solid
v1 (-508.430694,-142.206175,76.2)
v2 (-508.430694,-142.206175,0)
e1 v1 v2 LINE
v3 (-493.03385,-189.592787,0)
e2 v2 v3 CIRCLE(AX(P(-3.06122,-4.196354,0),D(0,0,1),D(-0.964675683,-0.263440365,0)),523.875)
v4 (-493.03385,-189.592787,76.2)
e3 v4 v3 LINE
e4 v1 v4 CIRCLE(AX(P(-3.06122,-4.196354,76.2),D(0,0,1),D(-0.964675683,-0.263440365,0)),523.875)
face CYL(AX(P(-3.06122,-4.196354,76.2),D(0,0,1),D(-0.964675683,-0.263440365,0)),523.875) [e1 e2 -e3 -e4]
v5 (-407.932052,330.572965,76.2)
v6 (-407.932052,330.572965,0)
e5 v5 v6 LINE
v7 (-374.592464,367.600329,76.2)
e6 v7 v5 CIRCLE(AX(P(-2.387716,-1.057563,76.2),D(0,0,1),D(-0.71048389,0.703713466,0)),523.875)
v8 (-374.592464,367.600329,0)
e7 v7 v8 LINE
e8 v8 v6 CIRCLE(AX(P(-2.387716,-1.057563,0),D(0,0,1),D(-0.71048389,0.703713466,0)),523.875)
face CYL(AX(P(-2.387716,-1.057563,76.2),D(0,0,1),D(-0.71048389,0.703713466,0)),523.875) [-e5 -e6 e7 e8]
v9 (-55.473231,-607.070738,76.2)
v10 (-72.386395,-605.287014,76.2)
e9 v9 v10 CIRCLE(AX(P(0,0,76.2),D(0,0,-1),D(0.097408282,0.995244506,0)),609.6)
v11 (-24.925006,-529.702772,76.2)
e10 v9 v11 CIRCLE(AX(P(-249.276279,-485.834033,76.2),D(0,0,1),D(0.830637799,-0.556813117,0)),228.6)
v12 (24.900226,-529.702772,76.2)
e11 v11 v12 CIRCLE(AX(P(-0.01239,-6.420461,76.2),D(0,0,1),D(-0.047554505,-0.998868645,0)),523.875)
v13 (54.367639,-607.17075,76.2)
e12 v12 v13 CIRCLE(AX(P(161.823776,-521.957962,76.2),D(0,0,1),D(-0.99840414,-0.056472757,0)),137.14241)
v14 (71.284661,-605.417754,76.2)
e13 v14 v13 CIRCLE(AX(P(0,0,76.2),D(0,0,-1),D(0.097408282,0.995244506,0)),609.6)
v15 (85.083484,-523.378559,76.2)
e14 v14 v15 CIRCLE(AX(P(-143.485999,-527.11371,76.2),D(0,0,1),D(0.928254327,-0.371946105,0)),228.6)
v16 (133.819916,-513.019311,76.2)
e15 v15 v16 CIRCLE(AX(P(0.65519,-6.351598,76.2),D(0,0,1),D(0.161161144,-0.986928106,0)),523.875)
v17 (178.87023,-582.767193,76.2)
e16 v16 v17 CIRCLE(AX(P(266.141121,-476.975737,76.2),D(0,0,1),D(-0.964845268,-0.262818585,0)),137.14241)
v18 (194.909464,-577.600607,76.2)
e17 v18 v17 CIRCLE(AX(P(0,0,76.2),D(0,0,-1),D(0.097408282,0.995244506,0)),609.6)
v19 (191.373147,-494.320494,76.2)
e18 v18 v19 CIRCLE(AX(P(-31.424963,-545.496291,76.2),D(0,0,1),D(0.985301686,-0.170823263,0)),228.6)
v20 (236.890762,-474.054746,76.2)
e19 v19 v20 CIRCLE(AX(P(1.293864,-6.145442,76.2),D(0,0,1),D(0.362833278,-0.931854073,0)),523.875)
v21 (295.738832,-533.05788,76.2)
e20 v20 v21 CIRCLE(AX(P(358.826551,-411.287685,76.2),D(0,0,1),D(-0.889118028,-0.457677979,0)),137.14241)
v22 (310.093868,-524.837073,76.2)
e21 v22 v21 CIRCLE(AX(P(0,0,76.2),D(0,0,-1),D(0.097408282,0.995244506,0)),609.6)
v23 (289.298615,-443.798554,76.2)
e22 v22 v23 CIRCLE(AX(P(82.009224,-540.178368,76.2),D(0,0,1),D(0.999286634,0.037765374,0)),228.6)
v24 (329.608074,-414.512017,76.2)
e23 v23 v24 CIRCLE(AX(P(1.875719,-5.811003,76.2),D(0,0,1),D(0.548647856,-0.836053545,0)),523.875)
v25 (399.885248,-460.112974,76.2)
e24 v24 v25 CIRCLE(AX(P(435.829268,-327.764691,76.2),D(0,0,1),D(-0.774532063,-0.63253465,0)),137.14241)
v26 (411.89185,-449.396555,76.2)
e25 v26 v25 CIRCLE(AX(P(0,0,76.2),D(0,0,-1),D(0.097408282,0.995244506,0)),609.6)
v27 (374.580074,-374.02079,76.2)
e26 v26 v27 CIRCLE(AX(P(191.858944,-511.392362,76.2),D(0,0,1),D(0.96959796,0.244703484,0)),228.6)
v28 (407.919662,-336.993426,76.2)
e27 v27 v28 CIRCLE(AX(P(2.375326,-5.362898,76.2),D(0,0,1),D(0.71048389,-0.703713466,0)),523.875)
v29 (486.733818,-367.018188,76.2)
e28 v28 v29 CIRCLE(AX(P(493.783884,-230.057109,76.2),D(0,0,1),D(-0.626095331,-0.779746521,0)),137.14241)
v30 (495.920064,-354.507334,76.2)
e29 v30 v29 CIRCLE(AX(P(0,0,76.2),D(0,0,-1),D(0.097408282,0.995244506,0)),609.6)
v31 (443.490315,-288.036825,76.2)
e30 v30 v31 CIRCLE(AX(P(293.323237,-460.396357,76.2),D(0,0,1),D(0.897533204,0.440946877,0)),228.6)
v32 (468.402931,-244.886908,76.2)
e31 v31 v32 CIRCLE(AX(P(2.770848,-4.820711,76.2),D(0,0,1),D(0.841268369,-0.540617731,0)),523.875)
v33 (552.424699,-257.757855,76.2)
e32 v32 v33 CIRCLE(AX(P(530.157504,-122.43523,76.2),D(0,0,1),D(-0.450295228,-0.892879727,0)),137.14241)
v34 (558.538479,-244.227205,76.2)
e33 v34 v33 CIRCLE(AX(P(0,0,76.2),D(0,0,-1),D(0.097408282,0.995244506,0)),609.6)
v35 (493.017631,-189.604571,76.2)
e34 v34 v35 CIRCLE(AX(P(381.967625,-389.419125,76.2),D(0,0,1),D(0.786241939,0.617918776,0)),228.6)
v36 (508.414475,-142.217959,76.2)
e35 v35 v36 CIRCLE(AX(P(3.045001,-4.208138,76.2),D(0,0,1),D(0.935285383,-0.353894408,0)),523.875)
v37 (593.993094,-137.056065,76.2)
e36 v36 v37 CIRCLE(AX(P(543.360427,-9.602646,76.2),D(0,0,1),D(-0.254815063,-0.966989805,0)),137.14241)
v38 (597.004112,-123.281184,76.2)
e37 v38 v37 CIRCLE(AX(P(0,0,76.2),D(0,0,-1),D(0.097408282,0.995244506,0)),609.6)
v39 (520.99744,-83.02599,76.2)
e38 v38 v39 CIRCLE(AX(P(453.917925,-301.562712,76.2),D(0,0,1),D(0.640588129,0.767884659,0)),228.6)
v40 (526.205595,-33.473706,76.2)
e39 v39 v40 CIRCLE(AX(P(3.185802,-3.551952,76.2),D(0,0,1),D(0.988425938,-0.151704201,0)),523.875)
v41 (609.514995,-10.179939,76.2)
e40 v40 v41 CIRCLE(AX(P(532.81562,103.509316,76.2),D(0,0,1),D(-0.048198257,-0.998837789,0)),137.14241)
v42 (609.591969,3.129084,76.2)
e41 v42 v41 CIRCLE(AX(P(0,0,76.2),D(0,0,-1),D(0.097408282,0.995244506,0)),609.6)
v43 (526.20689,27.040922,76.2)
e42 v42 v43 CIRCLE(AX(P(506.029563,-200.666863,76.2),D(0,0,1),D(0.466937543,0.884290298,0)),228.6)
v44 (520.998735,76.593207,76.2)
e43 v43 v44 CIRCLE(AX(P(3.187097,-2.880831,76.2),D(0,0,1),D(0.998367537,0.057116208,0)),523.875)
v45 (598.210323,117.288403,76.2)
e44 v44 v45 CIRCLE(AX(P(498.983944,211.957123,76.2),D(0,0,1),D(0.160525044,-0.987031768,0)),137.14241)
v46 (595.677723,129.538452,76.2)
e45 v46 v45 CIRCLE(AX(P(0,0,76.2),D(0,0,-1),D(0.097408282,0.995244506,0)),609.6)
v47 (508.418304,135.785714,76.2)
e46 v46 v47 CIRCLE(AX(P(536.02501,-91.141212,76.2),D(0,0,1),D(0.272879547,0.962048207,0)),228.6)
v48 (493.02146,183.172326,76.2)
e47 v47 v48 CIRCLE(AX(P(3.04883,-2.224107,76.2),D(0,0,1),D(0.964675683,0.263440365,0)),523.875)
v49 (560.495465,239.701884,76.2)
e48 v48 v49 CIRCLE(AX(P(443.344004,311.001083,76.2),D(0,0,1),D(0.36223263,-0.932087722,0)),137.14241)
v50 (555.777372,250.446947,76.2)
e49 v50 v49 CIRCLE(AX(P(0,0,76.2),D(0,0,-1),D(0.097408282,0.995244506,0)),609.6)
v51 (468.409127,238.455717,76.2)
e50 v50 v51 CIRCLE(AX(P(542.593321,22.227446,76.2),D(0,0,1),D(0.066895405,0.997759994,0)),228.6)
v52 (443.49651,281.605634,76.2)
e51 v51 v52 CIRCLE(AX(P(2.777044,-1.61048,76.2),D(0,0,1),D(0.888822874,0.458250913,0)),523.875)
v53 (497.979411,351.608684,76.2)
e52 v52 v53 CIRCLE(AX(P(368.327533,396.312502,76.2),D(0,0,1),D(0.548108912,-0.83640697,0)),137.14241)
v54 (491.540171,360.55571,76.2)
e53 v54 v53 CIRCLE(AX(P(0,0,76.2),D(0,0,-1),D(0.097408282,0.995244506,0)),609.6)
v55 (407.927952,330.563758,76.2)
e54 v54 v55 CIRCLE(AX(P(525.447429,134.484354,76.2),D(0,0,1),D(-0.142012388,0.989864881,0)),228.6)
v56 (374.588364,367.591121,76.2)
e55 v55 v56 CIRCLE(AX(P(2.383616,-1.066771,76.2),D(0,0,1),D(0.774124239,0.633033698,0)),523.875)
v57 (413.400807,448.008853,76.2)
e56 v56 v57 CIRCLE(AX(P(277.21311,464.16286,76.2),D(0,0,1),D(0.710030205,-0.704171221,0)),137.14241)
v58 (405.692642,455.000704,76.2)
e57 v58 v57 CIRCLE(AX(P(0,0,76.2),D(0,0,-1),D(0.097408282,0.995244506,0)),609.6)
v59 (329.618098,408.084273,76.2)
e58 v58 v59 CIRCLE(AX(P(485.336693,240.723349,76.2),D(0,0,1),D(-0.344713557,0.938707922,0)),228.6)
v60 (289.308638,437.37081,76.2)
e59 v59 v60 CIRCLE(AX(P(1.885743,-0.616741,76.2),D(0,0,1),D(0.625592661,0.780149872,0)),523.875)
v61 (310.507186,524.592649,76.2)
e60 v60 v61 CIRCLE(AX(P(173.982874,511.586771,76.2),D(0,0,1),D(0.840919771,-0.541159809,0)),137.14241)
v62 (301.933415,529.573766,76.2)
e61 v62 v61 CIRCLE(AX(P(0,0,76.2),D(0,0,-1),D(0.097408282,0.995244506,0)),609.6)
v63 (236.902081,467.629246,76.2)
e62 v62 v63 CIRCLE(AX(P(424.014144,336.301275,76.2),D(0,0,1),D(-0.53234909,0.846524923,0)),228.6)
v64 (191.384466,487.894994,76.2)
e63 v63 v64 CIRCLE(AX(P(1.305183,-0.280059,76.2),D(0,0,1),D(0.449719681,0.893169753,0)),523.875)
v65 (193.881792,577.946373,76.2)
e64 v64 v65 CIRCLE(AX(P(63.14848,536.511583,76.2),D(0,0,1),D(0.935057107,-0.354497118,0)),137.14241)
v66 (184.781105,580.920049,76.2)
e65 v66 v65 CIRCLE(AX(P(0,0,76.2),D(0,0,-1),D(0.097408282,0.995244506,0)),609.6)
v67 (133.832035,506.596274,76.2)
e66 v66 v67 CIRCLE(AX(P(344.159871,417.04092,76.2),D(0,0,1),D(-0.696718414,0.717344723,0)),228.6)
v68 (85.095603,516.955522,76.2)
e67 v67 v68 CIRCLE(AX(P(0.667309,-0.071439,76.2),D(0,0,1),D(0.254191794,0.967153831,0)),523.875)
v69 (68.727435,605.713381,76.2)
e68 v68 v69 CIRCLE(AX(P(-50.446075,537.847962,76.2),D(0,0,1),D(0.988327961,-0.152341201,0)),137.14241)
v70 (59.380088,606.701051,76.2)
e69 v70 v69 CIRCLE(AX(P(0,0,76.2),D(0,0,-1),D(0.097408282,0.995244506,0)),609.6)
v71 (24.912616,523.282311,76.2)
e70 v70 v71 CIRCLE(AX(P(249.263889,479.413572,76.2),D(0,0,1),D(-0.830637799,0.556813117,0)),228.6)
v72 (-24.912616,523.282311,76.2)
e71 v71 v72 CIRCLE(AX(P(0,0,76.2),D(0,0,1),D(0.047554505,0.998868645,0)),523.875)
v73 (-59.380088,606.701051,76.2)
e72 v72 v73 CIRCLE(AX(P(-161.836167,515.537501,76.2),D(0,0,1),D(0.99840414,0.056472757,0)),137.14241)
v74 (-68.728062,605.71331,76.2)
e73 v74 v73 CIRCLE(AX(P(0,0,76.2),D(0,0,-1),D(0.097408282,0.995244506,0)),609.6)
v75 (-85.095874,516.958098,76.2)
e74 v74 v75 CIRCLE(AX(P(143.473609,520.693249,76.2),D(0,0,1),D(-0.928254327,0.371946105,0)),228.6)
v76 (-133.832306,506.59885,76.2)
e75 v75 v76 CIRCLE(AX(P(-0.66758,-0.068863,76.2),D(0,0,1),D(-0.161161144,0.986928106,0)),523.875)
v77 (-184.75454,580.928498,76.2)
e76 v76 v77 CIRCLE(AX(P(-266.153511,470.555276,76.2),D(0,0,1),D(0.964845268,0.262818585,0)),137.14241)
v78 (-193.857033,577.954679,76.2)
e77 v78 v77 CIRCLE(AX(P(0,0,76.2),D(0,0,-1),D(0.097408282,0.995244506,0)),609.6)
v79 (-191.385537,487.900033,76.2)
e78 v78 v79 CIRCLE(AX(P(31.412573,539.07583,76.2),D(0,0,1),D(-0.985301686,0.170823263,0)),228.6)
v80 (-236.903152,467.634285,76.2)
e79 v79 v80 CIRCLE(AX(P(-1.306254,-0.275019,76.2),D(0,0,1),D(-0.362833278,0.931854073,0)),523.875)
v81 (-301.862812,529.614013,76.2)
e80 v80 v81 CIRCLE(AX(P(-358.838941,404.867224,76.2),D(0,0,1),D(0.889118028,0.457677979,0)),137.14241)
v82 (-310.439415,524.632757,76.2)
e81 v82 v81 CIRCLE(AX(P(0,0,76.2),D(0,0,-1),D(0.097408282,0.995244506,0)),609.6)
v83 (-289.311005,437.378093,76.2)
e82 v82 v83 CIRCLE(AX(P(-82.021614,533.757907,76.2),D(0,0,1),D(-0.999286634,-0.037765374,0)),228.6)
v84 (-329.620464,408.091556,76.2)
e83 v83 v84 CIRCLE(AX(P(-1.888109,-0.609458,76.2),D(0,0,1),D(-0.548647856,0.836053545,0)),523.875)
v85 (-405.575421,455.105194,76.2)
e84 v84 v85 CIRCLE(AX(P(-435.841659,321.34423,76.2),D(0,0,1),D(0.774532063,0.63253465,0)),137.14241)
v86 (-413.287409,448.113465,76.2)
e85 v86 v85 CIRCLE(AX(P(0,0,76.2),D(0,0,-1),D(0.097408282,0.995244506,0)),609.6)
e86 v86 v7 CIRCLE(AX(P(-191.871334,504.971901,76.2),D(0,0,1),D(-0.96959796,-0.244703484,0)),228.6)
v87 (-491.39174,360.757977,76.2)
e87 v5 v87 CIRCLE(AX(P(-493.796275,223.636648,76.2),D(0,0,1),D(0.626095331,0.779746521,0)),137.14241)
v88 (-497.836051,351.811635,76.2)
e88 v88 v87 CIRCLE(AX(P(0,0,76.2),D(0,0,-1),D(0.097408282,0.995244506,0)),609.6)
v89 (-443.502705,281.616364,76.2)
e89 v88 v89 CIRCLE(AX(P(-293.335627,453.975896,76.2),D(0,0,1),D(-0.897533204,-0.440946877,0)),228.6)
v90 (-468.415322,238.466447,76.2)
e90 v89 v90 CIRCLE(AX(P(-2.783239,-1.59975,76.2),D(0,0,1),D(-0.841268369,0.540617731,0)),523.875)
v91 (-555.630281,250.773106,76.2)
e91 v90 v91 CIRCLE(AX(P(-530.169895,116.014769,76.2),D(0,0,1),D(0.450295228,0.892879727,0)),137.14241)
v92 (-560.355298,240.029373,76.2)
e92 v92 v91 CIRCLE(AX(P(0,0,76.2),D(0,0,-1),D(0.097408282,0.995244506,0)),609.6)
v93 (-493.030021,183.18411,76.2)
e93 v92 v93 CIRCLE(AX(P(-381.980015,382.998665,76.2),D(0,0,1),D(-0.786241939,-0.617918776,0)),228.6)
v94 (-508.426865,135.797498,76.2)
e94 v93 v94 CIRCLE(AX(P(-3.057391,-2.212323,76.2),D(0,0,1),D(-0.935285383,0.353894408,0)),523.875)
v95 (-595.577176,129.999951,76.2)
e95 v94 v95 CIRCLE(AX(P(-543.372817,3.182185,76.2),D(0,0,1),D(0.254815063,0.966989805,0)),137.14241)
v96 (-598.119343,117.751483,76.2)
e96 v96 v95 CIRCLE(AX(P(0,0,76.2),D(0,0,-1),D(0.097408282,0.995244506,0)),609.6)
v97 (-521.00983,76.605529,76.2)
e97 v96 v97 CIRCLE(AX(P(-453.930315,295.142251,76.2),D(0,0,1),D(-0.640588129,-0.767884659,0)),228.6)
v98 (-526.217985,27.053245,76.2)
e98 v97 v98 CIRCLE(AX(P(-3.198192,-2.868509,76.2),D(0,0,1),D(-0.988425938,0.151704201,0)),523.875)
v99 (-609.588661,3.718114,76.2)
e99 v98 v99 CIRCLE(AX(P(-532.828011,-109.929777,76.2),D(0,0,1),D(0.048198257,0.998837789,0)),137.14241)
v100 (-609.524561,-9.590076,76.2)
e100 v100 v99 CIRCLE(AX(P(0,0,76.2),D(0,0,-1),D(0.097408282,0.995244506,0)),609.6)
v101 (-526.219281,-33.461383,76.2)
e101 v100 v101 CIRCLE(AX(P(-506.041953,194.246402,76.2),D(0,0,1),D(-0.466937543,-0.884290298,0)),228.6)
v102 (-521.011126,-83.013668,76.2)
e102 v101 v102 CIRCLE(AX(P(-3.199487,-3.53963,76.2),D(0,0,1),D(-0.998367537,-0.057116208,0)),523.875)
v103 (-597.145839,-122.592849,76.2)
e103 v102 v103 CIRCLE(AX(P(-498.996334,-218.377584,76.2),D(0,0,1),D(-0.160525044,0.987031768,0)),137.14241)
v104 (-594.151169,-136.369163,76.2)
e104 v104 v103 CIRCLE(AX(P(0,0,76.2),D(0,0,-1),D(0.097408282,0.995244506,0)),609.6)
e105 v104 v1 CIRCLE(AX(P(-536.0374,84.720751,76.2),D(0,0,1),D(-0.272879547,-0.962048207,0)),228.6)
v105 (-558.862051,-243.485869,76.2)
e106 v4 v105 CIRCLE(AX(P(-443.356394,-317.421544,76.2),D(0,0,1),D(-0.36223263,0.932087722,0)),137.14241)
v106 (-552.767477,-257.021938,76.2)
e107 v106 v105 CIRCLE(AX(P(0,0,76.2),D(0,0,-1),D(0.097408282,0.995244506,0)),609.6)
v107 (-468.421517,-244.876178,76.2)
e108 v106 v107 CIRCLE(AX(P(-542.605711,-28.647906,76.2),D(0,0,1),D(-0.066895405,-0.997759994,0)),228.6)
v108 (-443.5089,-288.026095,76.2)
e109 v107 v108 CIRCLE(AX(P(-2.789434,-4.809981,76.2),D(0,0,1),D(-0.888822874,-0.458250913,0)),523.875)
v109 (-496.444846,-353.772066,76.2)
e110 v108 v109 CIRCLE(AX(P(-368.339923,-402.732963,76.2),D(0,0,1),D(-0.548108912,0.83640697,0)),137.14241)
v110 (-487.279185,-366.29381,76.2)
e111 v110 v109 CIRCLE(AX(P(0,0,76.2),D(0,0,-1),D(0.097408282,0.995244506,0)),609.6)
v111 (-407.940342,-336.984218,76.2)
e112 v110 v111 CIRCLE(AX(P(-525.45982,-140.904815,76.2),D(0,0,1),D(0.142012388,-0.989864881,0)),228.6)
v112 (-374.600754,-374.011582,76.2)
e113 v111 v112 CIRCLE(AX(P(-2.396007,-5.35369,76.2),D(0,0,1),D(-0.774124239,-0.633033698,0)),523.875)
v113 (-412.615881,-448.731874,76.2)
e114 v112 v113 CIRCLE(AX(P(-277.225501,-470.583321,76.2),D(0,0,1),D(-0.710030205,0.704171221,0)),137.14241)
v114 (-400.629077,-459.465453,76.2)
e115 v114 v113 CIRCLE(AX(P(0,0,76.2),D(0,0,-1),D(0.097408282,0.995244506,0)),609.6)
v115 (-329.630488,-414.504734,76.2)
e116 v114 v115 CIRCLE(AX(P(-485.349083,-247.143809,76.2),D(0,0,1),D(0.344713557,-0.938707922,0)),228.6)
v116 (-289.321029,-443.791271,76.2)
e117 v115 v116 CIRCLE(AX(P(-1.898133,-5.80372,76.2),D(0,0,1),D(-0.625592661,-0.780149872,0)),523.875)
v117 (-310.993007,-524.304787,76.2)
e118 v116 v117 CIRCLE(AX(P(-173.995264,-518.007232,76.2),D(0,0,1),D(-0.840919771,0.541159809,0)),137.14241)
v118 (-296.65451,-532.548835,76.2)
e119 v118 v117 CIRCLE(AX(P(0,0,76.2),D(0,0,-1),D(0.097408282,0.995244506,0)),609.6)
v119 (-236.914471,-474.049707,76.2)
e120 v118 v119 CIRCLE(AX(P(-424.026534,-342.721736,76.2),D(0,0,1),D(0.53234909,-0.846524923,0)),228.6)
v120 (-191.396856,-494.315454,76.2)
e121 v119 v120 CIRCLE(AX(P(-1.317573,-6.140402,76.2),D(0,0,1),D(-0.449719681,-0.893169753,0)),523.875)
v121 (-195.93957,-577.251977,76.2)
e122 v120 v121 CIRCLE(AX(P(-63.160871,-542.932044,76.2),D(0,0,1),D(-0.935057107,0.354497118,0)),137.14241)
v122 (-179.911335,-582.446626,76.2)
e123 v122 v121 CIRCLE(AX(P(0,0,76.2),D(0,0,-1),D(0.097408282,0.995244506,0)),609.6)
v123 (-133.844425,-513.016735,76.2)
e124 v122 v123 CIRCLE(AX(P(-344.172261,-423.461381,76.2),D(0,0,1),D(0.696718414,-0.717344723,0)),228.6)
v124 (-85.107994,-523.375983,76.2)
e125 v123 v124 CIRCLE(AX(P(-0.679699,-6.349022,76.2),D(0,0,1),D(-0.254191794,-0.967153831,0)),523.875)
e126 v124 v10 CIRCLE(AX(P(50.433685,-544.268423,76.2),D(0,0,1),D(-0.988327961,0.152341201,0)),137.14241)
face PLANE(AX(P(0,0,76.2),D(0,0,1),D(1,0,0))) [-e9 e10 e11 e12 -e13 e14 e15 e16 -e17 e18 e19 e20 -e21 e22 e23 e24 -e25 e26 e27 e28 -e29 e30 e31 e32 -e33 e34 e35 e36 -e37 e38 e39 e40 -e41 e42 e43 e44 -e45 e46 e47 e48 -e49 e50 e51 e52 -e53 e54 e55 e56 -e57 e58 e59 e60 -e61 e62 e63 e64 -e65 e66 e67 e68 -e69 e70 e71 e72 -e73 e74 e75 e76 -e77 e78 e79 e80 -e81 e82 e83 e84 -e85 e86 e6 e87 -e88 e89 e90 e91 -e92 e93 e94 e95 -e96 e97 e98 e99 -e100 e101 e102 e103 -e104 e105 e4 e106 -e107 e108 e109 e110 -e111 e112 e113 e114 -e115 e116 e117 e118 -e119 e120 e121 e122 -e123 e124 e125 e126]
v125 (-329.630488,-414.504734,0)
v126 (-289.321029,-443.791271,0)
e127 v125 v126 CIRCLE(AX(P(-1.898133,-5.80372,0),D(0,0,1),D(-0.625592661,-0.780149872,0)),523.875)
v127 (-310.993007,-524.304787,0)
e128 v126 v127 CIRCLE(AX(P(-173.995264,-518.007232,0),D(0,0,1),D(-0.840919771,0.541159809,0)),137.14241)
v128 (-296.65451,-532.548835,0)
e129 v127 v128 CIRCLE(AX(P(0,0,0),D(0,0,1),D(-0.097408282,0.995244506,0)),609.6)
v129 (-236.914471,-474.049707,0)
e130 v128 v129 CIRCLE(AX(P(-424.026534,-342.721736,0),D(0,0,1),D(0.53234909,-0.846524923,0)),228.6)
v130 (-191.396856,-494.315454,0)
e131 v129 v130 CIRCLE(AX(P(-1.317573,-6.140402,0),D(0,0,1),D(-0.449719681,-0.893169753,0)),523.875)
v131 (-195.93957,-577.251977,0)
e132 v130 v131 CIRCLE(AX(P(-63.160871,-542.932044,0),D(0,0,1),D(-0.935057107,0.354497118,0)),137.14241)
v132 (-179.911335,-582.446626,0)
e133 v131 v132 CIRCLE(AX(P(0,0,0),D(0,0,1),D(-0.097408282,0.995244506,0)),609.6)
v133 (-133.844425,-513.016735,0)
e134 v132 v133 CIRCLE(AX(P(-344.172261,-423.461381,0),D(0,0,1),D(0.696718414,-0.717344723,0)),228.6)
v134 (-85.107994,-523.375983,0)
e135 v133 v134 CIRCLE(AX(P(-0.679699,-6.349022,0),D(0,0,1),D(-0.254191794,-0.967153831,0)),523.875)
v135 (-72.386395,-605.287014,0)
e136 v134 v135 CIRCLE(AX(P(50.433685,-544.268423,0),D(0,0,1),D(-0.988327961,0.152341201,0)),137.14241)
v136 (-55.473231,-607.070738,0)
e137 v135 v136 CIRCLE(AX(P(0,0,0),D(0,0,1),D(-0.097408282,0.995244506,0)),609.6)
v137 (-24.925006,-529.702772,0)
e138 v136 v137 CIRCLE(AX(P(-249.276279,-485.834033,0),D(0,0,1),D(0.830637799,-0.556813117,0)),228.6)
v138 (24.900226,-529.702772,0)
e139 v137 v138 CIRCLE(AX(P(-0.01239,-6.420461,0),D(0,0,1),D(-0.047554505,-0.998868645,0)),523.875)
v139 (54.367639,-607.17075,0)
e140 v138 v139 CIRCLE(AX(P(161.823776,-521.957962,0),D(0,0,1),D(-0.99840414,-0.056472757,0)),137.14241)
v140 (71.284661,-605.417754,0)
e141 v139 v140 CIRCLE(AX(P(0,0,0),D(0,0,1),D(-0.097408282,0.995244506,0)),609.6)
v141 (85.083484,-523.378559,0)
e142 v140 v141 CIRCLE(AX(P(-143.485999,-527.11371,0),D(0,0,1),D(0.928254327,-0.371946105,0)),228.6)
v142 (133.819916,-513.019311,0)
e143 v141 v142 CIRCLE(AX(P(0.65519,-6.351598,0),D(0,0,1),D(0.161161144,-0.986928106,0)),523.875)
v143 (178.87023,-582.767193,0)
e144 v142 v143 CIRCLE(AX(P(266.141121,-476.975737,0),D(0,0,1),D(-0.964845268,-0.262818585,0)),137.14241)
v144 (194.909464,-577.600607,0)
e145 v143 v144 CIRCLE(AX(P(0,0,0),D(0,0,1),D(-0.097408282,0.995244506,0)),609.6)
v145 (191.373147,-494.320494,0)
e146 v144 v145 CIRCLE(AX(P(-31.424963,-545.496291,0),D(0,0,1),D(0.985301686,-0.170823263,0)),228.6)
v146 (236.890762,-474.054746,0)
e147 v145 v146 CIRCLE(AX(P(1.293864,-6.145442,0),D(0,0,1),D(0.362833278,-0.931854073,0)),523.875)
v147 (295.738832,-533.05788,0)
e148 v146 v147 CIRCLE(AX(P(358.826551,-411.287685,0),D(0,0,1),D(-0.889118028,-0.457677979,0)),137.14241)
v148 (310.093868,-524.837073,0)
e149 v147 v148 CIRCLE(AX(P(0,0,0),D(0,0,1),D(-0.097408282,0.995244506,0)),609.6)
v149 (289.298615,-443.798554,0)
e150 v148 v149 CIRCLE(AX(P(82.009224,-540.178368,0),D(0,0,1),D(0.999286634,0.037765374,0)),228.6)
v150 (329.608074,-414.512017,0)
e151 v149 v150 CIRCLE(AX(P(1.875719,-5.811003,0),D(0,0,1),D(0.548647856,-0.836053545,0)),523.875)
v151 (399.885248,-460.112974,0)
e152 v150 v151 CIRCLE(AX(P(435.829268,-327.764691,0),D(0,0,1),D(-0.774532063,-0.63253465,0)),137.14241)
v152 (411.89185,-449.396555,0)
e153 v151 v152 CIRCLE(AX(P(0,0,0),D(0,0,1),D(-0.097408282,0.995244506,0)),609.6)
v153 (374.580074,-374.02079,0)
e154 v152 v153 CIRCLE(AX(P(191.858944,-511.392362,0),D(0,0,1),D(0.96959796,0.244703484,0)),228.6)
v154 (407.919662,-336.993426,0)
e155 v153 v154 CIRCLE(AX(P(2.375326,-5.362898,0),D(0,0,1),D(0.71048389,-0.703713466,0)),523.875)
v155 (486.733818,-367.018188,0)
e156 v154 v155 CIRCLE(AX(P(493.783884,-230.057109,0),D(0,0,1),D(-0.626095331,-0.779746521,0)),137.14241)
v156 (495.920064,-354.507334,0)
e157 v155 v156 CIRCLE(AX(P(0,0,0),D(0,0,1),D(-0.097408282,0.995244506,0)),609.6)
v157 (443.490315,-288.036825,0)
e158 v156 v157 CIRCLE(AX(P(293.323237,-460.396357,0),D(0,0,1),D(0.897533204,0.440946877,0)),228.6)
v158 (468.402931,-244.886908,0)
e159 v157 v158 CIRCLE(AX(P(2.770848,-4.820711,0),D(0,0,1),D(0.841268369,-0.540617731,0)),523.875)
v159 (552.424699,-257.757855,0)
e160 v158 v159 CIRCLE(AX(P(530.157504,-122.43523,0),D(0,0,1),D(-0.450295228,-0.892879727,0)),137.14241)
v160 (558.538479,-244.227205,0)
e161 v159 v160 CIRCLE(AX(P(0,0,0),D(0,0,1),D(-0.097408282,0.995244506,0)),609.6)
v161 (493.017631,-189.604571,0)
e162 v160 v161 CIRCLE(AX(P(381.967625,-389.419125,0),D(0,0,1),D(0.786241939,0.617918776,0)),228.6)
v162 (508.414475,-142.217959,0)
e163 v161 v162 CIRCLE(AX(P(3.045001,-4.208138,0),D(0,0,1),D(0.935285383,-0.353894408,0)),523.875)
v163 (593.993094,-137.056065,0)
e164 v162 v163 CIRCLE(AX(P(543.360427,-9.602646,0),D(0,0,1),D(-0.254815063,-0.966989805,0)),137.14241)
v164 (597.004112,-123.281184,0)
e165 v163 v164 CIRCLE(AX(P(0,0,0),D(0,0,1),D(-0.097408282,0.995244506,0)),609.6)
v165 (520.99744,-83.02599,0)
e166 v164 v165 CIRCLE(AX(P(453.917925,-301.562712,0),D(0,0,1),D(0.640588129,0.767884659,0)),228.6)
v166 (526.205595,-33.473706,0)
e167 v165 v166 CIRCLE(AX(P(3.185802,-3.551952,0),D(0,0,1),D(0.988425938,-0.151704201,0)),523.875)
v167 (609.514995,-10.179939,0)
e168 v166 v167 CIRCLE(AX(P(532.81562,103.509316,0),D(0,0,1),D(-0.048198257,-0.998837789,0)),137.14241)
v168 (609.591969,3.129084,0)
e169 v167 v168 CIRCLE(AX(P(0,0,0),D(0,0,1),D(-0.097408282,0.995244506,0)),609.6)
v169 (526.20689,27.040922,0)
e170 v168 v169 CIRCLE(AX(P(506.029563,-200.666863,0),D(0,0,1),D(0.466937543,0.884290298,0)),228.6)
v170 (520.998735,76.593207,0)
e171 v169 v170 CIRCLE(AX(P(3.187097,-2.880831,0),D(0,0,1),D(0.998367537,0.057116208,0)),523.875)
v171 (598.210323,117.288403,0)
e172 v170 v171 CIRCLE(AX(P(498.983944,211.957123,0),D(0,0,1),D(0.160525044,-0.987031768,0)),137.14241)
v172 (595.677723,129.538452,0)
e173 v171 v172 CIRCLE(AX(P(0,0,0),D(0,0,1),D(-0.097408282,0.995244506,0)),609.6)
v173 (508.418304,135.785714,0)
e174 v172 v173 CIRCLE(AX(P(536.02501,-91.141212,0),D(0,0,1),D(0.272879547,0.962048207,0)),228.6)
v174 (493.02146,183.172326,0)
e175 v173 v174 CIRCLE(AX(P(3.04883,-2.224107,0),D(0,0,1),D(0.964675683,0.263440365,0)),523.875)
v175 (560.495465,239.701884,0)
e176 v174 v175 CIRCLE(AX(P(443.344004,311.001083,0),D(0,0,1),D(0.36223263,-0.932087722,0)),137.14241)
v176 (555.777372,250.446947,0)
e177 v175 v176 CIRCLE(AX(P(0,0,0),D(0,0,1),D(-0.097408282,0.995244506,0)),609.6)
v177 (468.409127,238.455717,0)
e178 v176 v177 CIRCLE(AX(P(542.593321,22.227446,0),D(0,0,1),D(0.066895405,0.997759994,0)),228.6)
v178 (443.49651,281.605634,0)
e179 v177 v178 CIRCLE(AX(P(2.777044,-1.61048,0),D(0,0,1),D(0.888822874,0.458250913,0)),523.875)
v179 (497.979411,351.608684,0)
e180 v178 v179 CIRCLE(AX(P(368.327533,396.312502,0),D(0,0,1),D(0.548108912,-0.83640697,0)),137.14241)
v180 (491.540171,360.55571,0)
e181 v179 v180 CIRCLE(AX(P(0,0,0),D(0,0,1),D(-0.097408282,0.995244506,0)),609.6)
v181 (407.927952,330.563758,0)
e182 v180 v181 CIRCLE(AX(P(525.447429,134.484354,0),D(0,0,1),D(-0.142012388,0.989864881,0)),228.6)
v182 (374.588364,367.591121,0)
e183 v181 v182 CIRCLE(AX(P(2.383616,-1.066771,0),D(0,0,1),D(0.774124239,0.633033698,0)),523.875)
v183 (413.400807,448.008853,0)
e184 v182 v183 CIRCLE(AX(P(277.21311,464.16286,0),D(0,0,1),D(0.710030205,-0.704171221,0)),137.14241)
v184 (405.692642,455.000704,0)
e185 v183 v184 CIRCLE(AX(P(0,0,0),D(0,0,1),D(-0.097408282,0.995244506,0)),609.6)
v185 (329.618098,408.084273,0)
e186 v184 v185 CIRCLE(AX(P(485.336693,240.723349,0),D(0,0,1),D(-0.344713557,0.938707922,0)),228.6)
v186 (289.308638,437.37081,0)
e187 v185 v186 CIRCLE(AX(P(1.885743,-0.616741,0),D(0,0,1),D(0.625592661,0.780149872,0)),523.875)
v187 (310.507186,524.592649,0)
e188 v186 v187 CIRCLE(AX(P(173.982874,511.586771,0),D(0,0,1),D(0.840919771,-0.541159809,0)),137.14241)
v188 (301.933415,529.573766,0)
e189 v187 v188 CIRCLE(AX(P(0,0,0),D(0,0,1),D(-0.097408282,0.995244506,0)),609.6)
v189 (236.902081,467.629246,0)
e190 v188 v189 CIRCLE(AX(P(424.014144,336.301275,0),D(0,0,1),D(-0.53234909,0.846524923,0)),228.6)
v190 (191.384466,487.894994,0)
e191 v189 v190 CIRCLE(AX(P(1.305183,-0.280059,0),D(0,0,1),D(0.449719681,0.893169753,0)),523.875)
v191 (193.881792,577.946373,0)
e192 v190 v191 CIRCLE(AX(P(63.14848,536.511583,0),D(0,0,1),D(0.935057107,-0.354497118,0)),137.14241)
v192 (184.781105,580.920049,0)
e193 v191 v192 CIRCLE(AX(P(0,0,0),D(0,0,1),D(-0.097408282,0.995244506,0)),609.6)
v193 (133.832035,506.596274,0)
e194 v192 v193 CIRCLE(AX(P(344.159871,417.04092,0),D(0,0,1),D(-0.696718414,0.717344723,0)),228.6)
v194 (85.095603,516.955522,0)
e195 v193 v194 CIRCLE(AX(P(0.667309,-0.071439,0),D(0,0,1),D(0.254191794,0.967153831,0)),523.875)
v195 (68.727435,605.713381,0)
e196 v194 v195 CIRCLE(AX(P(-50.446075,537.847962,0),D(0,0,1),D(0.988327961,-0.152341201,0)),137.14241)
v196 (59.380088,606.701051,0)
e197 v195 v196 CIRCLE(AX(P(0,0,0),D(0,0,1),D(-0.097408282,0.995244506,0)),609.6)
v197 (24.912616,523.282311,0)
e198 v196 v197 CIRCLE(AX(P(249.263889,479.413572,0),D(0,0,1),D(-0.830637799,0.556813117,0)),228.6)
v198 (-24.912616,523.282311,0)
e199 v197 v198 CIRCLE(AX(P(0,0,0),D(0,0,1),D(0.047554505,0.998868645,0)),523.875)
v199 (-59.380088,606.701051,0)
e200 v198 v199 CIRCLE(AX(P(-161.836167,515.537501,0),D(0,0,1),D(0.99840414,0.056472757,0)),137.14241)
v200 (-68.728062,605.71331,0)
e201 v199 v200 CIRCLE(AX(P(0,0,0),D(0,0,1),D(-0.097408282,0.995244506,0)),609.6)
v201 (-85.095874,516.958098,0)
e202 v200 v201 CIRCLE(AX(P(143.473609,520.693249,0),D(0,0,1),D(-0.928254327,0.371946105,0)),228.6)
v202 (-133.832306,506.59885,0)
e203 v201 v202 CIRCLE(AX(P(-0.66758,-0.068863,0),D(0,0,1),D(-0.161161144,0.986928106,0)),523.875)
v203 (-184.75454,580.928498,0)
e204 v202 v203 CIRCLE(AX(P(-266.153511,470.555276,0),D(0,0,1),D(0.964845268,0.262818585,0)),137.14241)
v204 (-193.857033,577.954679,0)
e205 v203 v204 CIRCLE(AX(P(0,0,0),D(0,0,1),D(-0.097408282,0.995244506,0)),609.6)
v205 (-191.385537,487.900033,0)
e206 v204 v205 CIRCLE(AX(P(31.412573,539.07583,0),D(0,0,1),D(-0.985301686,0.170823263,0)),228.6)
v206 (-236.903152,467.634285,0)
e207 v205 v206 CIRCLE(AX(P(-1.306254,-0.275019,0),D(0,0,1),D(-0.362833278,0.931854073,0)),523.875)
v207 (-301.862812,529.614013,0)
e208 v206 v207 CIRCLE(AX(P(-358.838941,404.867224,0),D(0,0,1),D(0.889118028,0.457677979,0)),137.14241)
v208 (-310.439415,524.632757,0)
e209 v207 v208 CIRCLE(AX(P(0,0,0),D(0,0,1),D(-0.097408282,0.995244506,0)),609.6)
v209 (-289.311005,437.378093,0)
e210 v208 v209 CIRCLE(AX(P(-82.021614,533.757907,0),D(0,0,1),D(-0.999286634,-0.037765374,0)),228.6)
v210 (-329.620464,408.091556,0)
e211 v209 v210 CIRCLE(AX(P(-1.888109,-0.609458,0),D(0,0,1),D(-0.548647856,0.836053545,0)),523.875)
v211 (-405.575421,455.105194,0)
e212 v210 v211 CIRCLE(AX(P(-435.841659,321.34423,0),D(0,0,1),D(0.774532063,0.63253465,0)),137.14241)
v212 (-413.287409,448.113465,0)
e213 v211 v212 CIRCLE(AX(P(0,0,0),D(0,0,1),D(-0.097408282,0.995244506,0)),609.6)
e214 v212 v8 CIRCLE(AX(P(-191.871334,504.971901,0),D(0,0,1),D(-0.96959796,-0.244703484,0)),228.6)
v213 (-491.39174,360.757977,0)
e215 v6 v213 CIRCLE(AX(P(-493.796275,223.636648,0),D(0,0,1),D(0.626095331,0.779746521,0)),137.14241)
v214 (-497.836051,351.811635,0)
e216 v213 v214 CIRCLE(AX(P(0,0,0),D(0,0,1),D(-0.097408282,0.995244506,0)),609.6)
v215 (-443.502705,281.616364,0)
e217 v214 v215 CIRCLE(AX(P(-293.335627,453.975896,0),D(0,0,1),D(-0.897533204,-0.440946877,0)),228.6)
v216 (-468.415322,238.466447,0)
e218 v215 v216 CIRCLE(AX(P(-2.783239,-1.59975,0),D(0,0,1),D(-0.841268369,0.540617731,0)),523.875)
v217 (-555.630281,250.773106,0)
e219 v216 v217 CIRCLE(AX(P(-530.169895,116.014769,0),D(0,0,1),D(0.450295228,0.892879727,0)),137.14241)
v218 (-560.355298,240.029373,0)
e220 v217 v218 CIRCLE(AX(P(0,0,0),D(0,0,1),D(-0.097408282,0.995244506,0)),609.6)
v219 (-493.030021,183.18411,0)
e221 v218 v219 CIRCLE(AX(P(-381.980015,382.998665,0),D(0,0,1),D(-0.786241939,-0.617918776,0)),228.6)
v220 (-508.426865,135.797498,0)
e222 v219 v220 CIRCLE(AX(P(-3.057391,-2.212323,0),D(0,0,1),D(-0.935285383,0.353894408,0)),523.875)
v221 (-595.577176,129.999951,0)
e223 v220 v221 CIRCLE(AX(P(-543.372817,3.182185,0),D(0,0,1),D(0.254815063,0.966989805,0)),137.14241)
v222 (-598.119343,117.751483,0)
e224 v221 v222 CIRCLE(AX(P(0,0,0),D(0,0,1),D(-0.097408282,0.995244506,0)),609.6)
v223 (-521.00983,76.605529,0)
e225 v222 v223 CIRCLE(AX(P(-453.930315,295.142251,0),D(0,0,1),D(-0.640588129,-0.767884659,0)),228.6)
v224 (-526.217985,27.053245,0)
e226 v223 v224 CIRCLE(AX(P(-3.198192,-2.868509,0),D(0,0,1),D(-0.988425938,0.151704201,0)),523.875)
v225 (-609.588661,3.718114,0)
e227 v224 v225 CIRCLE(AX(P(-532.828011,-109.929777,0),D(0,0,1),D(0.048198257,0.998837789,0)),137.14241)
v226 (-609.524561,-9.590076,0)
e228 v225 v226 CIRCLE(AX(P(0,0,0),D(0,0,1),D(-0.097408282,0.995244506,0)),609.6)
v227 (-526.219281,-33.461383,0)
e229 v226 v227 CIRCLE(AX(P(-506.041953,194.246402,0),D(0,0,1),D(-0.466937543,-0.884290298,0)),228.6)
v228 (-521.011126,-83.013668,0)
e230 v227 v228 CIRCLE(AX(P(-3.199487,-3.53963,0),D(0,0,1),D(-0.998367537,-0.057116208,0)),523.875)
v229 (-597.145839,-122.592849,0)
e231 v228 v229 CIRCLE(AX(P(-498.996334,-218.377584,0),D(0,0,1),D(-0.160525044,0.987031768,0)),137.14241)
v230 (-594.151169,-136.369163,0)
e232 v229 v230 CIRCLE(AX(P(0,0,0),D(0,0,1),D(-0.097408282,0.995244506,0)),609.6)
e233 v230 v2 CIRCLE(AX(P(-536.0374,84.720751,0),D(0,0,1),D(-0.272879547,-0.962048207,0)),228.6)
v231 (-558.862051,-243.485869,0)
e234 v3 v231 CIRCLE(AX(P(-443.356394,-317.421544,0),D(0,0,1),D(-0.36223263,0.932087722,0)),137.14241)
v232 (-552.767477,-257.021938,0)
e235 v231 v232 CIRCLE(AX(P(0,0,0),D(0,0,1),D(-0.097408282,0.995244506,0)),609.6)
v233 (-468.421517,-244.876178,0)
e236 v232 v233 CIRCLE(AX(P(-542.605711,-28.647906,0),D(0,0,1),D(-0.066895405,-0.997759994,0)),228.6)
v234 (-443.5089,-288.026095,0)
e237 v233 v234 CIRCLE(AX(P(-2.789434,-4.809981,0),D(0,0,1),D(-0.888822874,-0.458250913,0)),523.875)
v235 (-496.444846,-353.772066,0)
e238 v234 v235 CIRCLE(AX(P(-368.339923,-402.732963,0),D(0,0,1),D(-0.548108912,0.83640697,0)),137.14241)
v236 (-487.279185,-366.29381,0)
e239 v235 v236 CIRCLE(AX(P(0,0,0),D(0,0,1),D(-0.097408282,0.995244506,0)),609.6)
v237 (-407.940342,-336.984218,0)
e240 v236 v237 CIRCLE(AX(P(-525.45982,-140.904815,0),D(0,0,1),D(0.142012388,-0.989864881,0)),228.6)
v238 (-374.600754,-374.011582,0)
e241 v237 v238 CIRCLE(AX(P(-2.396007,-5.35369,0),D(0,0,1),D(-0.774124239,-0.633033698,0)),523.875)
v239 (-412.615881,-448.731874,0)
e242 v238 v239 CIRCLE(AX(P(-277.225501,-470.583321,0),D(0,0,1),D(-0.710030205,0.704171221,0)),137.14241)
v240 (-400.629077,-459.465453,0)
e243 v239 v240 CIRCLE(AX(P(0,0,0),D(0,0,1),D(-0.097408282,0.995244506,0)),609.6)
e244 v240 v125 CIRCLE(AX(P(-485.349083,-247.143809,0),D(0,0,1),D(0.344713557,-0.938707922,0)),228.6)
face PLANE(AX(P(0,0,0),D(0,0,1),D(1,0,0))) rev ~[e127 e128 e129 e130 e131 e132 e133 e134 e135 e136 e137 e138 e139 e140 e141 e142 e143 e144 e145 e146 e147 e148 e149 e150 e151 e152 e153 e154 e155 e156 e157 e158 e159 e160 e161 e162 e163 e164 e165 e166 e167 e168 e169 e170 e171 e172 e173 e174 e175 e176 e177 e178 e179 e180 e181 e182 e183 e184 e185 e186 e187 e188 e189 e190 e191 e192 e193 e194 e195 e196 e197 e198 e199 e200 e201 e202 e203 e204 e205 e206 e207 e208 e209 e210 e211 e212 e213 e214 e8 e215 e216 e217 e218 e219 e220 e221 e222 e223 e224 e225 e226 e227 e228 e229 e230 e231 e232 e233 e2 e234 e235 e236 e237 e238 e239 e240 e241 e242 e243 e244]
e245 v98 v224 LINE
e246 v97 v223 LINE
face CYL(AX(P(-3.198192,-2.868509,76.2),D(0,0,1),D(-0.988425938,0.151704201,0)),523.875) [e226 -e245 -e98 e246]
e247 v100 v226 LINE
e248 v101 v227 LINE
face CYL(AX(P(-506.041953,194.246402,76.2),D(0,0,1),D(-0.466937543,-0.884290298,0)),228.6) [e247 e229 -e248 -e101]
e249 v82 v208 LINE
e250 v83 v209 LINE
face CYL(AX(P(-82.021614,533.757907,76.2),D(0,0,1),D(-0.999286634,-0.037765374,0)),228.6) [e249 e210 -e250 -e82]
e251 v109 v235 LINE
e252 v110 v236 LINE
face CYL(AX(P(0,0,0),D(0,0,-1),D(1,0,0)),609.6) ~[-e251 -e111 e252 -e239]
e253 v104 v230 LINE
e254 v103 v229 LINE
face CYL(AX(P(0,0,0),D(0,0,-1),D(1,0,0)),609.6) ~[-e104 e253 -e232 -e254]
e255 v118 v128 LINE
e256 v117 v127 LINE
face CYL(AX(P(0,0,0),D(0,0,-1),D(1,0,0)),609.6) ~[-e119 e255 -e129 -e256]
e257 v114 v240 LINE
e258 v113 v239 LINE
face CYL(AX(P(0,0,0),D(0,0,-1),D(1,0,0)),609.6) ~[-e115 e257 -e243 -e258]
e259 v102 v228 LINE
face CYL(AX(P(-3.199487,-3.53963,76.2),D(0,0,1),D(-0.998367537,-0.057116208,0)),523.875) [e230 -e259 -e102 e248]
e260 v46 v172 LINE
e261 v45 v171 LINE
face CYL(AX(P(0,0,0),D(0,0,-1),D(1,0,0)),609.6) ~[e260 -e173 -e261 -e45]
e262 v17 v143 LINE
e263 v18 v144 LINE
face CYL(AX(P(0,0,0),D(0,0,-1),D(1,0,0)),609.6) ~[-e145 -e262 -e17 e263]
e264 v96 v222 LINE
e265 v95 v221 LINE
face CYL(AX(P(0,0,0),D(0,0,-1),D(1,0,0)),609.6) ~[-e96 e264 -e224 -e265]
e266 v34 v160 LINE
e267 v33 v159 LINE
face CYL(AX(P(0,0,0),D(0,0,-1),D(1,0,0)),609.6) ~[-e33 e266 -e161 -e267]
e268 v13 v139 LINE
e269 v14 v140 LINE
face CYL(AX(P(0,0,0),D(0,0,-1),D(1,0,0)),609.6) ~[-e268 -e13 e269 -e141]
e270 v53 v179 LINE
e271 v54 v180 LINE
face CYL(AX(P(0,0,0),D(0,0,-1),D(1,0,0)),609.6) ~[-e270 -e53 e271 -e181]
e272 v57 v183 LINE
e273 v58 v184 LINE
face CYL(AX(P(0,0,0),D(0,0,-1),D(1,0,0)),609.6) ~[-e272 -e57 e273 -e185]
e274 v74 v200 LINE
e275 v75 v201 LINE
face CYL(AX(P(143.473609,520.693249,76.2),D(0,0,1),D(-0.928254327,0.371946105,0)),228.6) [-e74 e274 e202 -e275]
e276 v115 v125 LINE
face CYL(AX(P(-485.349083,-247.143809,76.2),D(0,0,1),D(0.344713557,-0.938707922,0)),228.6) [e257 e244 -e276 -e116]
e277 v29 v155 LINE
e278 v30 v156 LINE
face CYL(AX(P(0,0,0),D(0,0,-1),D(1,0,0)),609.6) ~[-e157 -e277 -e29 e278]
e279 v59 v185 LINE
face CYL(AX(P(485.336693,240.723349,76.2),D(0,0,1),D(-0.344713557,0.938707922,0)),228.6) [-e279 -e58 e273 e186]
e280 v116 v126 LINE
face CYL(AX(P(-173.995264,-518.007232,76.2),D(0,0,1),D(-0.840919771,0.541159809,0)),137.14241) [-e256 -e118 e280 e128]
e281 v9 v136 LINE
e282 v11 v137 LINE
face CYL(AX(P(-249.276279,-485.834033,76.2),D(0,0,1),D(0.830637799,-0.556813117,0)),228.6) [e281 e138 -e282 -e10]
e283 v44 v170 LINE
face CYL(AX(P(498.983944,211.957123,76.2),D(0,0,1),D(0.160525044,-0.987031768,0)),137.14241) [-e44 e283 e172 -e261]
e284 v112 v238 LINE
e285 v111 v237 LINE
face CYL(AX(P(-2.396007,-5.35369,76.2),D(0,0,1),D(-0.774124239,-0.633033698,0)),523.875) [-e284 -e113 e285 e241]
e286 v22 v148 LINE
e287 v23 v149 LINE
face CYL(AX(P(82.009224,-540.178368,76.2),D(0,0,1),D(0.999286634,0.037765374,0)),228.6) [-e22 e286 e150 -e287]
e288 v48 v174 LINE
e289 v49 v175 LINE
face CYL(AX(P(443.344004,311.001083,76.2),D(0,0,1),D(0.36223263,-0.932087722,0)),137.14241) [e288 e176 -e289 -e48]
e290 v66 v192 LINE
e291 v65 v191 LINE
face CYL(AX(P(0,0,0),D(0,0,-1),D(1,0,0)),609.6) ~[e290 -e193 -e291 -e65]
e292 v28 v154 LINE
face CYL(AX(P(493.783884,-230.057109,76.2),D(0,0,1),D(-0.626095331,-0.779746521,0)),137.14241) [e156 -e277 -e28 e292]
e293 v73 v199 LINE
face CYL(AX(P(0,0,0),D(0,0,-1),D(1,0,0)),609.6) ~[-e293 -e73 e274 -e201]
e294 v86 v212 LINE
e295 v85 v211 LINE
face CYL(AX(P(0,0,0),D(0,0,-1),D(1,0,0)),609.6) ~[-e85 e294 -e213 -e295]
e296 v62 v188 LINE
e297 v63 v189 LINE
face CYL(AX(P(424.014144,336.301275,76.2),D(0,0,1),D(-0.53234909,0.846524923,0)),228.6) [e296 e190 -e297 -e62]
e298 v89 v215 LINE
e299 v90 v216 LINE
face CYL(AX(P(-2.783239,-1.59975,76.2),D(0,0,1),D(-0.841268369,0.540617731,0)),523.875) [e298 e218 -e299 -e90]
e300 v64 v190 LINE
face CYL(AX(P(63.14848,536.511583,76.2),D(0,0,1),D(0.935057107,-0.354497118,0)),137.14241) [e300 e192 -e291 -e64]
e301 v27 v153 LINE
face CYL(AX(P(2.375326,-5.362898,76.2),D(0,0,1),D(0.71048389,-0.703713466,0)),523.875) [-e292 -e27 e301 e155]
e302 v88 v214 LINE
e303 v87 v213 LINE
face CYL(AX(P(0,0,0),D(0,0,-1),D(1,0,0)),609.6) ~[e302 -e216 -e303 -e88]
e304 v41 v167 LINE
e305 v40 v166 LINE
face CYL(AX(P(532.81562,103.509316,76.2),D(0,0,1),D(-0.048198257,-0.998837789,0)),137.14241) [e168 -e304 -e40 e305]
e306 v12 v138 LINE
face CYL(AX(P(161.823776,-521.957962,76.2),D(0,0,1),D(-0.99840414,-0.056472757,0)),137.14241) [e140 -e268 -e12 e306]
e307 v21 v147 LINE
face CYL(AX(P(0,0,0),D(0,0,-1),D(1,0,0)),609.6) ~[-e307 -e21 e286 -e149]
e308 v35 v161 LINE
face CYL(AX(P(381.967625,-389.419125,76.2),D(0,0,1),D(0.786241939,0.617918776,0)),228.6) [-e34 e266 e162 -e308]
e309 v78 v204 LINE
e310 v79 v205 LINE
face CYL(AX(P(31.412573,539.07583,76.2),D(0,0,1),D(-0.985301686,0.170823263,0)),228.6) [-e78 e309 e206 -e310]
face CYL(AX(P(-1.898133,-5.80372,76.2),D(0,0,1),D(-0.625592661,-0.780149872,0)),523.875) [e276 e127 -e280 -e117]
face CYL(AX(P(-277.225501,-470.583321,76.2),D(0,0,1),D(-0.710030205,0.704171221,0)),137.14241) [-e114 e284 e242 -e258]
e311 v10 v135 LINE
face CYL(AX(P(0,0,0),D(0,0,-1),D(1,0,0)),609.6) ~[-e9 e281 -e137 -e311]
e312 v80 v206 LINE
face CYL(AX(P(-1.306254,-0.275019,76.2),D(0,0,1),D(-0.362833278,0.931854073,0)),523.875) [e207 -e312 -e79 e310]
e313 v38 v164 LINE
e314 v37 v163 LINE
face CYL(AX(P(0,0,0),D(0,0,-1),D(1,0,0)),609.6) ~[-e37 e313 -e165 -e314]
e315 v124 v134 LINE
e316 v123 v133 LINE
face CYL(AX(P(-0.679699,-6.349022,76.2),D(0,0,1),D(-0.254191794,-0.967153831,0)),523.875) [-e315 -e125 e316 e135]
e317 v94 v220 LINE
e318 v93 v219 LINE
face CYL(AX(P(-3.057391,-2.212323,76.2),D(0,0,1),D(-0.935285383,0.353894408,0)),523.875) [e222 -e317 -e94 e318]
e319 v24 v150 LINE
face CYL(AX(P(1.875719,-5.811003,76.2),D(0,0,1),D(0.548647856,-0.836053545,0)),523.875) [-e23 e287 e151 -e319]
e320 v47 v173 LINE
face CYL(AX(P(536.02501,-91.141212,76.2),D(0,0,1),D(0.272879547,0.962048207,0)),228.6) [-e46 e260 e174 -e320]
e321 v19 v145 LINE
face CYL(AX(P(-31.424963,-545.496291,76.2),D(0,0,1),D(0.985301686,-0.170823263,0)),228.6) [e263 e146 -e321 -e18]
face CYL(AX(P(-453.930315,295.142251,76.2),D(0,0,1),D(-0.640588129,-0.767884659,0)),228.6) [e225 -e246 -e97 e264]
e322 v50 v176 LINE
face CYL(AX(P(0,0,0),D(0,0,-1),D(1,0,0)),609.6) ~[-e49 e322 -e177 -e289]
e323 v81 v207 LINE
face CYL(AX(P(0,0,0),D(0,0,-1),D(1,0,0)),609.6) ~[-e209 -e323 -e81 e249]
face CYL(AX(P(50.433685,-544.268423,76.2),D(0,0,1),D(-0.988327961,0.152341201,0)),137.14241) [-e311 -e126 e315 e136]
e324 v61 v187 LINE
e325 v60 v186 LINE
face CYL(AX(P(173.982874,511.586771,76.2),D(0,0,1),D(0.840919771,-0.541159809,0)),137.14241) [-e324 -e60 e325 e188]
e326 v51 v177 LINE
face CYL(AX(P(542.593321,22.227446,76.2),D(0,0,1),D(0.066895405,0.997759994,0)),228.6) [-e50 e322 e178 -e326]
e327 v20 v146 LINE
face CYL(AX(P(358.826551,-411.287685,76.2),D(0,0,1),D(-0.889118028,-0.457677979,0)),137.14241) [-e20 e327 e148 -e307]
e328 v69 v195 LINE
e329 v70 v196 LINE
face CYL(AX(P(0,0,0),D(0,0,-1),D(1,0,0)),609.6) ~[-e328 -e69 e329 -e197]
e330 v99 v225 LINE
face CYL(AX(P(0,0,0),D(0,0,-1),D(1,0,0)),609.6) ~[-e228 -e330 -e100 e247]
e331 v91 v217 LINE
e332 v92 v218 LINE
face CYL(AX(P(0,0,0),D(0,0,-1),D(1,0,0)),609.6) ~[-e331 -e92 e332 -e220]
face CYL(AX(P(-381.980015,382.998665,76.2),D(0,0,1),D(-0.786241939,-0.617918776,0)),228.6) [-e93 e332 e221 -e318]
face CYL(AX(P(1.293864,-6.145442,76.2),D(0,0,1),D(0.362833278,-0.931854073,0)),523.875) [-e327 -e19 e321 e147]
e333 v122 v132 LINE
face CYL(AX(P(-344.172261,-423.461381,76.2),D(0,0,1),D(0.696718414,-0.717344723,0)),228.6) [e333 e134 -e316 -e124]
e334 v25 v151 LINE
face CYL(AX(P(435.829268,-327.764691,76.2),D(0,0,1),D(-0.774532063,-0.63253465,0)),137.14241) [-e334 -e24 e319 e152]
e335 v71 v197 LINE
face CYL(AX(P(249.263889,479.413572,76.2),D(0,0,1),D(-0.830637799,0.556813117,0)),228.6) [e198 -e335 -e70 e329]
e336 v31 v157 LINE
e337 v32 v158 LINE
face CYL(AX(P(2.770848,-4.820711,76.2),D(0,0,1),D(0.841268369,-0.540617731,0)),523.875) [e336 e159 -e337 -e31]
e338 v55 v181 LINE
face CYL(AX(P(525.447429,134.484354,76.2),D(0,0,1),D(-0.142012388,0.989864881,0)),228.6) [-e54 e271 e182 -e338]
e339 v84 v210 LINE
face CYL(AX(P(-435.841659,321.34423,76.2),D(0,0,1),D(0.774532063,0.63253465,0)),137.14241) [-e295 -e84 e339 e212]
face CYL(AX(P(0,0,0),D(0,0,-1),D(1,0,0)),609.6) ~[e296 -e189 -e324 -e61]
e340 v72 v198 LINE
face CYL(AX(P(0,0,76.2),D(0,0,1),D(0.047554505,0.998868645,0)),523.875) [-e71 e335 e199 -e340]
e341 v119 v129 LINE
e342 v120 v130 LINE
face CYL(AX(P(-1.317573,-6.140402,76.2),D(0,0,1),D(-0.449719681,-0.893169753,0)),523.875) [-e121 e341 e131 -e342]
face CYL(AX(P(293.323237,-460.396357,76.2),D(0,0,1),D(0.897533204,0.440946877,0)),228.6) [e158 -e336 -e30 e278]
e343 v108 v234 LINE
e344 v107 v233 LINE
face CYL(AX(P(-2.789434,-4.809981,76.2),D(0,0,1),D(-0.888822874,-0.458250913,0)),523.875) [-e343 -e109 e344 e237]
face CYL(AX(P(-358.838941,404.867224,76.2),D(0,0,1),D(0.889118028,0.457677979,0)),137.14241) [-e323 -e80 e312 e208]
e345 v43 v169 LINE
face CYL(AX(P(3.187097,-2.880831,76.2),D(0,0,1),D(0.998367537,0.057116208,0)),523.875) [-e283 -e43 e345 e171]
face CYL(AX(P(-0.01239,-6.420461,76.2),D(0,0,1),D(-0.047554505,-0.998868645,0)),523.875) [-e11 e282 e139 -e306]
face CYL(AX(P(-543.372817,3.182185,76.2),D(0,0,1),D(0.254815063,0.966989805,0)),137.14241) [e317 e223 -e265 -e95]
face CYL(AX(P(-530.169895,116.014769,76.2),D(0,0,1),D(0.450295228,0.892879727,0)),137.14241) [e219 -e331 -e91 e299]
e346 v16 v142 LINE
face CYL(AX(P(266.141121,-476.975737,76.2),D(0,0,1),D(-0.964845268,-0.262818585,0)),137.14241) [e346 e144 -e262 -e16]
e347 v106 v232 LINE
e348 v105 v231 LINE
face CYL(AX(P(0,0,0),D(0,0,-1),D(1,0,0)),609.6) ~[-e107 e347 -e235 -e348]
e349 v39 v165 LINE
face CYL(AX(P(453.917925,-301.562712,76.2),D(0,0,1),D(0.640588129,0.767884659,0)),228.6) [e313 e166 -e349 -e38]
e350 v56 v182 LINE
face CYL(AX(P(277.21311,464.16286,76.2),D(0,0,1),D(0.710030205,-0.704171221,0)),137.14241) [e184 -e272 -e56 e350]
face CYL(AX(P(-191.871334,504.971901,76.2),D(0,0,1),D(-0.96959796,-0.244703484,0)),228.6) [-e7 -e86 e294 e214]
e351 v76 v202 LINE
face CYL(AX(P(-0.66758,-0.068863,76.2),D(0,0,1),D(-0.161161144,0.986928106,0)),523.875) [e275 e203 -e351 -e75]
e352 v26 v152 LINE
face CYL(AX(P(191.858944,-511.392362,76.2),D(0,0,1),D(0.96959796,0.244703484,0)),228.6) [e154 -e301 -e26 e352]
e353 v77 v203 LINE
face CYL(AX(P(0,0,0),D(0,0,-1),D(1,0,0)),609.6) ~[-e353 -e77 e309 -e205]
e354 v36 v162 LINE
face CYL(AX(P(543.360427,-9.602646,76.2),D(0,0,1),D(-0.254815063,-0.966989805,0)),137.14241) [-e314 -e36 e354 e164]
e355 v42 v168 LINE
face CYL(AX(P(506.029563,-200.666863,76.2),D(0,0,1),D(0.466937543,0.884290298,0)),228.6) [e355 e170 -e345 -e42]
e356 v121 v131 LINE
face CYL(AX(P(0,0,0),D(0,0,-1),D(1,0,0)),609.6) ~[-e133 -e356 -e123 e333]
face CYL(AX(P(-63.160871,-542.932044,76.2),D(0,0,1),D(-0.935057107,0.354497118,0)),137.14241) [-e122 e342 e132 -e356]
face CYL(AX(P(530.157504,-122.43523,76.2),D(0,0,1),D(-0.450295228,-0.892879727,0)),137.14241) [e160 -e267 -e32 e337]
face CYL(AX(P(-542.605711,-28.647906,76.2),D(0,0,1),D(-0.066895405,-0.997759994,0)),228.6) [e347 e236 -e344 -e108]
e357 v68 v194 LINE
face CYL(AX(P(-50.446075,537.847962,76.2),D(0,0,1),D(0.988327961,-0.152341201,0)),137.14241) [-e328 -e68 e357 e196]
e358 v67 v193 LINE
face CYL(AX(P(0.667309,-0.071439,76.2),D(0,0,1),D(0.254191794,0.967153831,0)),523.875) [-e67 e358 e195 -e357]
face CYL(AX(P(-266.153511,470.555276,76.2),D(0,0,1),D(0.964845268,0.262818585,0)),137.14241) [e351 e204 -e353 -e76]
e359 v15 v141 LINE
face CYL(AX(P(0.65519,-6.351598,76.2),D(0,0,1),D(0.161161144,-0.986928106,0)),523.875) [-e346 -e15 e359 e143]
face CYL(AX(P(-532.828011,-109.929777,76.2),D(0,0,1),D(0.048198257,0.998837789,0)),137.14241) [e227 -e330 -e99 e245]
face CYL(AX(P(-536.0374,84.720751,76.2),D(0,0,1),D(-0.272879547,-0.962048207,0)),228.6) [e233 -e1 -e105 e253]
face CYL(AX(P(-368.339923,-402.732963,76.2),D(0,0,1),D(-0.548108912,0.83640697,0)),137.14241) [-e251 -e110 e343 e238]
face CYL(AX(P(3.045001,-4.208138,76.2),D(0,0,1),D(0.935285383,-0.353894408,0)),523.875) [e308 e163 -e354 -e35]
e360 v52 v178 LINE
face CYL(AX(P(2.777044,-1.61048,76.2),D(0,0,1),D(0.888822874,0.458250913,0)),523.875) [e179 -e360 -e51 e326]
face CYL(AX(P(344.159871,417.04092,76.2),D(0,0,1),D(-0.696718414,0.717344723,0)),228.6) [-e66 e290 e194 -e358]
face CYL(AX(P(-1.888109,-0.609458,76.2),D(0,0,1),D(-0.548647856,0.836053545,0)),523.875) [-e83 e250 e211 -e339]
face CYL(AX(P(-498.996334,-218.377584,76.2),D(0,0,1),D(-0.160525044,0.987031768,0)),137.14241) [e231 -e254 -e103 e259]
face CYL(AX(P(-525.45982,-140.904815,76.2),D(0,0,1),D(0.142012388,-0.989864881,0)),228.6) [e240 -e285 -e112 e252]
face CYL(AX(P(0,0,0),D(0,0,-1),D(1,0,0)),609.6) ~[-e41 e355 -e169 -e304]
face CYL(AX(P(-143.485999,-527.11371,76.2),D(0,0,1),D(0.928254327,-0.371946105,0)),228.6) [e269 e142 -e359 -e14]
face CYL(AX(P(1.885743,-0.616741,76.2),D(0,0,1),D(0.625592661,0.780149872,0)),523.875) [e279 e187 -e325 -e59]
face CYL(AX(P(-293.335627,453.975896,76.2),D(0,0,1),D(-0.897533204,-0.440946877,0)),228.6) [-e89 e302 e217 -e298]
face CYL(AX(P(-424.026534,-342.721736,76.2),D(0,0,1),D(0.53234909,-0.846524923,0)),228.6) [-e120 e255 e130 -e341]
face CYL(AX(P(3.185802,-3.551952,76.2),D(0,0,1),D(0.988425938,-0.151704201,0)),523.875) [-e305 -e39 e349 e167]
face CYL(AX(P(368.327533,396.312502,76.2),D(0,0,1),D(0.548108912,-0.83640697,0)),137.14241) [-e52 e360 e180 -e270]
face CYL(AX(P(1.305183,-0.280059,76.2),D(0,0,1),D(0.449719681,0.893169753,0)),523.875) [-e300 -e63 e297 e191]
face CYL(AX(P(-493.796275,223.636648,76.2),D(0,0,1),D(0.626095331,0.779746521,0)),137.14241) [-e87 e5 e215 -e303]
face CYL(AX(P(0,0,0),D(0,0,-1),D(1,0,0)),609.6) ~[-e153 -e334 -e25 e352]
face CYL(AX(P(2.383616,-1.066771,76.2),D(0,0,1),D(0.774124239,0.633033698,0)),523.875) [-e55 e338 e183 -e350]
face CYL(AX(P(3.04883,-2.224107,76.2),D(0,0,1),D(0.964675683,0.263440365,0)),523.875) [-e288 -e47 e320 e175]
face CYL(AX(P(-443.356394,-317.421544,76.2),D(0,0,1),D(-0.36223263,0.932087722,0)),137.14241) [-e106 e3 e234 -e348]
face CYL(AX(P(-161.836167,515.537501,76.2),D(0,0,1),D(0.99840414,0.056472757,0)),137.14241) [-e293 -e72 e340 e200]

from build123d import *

# Parameters (mm, degrees)
SKETCH2_R           = 609.6
BOSS_EXTRUDE2_DEPTH = 76.2
CUT_EXTRUDE1_DEPTH  = 77.2
CIRPATTERN1_COUNT   = 30


with BuildPart() as part:
    # Sketch2 → Boss-Extrude2 (new body)
    with BuildSketch(Plane.XY):
        Circle(SKETCH2_R)
    extrude(amount=BOSS_EXTRUDE2_DEPTH)

    # Sketch3 → Cut-Extrude1 (cut, through all)
    with BuildSketch(Plane.XY.offset(76.2)):
        with BuildLine():
            ThreePointArc((24.912616177, 523.282311167), (0, 523.875), (-24.912616177, 523.282311167))
            ThreePointArc((-24.912616177, 523.282311167), (-35.087110683, 567.908462249), (-59.380088455, 606.701050844))
            ThreePointArc((-59.380088455, 606.701050844), (0, 609.6), (59.380088455, 606.701050844))
            ThreePointArc((59.380088455, 606.701050844), (37.988368572, 566.709702519), (24.912616177, 523.282311167))
        make_face()
    cut_extrude1 = extrude(amount=-CUT_EXTRUDE1_DEPTH, mode=Mode.SUBTRACT)

    # CirPattern1: Cut-Extrude1 ×30 about axis
    cirpattern1_axis = Axis((-0.006195071, -3.21023047, 0), (0, 0, 1))
    for i in range(1, CIRPATTERN1_COUNT):
        add(cut_extrude1.rotate(cirpattern1_axis, i * 360 / CIRPATTERN1_COUNT), mode=Mode.SUBTRACT)


solid = part.part
